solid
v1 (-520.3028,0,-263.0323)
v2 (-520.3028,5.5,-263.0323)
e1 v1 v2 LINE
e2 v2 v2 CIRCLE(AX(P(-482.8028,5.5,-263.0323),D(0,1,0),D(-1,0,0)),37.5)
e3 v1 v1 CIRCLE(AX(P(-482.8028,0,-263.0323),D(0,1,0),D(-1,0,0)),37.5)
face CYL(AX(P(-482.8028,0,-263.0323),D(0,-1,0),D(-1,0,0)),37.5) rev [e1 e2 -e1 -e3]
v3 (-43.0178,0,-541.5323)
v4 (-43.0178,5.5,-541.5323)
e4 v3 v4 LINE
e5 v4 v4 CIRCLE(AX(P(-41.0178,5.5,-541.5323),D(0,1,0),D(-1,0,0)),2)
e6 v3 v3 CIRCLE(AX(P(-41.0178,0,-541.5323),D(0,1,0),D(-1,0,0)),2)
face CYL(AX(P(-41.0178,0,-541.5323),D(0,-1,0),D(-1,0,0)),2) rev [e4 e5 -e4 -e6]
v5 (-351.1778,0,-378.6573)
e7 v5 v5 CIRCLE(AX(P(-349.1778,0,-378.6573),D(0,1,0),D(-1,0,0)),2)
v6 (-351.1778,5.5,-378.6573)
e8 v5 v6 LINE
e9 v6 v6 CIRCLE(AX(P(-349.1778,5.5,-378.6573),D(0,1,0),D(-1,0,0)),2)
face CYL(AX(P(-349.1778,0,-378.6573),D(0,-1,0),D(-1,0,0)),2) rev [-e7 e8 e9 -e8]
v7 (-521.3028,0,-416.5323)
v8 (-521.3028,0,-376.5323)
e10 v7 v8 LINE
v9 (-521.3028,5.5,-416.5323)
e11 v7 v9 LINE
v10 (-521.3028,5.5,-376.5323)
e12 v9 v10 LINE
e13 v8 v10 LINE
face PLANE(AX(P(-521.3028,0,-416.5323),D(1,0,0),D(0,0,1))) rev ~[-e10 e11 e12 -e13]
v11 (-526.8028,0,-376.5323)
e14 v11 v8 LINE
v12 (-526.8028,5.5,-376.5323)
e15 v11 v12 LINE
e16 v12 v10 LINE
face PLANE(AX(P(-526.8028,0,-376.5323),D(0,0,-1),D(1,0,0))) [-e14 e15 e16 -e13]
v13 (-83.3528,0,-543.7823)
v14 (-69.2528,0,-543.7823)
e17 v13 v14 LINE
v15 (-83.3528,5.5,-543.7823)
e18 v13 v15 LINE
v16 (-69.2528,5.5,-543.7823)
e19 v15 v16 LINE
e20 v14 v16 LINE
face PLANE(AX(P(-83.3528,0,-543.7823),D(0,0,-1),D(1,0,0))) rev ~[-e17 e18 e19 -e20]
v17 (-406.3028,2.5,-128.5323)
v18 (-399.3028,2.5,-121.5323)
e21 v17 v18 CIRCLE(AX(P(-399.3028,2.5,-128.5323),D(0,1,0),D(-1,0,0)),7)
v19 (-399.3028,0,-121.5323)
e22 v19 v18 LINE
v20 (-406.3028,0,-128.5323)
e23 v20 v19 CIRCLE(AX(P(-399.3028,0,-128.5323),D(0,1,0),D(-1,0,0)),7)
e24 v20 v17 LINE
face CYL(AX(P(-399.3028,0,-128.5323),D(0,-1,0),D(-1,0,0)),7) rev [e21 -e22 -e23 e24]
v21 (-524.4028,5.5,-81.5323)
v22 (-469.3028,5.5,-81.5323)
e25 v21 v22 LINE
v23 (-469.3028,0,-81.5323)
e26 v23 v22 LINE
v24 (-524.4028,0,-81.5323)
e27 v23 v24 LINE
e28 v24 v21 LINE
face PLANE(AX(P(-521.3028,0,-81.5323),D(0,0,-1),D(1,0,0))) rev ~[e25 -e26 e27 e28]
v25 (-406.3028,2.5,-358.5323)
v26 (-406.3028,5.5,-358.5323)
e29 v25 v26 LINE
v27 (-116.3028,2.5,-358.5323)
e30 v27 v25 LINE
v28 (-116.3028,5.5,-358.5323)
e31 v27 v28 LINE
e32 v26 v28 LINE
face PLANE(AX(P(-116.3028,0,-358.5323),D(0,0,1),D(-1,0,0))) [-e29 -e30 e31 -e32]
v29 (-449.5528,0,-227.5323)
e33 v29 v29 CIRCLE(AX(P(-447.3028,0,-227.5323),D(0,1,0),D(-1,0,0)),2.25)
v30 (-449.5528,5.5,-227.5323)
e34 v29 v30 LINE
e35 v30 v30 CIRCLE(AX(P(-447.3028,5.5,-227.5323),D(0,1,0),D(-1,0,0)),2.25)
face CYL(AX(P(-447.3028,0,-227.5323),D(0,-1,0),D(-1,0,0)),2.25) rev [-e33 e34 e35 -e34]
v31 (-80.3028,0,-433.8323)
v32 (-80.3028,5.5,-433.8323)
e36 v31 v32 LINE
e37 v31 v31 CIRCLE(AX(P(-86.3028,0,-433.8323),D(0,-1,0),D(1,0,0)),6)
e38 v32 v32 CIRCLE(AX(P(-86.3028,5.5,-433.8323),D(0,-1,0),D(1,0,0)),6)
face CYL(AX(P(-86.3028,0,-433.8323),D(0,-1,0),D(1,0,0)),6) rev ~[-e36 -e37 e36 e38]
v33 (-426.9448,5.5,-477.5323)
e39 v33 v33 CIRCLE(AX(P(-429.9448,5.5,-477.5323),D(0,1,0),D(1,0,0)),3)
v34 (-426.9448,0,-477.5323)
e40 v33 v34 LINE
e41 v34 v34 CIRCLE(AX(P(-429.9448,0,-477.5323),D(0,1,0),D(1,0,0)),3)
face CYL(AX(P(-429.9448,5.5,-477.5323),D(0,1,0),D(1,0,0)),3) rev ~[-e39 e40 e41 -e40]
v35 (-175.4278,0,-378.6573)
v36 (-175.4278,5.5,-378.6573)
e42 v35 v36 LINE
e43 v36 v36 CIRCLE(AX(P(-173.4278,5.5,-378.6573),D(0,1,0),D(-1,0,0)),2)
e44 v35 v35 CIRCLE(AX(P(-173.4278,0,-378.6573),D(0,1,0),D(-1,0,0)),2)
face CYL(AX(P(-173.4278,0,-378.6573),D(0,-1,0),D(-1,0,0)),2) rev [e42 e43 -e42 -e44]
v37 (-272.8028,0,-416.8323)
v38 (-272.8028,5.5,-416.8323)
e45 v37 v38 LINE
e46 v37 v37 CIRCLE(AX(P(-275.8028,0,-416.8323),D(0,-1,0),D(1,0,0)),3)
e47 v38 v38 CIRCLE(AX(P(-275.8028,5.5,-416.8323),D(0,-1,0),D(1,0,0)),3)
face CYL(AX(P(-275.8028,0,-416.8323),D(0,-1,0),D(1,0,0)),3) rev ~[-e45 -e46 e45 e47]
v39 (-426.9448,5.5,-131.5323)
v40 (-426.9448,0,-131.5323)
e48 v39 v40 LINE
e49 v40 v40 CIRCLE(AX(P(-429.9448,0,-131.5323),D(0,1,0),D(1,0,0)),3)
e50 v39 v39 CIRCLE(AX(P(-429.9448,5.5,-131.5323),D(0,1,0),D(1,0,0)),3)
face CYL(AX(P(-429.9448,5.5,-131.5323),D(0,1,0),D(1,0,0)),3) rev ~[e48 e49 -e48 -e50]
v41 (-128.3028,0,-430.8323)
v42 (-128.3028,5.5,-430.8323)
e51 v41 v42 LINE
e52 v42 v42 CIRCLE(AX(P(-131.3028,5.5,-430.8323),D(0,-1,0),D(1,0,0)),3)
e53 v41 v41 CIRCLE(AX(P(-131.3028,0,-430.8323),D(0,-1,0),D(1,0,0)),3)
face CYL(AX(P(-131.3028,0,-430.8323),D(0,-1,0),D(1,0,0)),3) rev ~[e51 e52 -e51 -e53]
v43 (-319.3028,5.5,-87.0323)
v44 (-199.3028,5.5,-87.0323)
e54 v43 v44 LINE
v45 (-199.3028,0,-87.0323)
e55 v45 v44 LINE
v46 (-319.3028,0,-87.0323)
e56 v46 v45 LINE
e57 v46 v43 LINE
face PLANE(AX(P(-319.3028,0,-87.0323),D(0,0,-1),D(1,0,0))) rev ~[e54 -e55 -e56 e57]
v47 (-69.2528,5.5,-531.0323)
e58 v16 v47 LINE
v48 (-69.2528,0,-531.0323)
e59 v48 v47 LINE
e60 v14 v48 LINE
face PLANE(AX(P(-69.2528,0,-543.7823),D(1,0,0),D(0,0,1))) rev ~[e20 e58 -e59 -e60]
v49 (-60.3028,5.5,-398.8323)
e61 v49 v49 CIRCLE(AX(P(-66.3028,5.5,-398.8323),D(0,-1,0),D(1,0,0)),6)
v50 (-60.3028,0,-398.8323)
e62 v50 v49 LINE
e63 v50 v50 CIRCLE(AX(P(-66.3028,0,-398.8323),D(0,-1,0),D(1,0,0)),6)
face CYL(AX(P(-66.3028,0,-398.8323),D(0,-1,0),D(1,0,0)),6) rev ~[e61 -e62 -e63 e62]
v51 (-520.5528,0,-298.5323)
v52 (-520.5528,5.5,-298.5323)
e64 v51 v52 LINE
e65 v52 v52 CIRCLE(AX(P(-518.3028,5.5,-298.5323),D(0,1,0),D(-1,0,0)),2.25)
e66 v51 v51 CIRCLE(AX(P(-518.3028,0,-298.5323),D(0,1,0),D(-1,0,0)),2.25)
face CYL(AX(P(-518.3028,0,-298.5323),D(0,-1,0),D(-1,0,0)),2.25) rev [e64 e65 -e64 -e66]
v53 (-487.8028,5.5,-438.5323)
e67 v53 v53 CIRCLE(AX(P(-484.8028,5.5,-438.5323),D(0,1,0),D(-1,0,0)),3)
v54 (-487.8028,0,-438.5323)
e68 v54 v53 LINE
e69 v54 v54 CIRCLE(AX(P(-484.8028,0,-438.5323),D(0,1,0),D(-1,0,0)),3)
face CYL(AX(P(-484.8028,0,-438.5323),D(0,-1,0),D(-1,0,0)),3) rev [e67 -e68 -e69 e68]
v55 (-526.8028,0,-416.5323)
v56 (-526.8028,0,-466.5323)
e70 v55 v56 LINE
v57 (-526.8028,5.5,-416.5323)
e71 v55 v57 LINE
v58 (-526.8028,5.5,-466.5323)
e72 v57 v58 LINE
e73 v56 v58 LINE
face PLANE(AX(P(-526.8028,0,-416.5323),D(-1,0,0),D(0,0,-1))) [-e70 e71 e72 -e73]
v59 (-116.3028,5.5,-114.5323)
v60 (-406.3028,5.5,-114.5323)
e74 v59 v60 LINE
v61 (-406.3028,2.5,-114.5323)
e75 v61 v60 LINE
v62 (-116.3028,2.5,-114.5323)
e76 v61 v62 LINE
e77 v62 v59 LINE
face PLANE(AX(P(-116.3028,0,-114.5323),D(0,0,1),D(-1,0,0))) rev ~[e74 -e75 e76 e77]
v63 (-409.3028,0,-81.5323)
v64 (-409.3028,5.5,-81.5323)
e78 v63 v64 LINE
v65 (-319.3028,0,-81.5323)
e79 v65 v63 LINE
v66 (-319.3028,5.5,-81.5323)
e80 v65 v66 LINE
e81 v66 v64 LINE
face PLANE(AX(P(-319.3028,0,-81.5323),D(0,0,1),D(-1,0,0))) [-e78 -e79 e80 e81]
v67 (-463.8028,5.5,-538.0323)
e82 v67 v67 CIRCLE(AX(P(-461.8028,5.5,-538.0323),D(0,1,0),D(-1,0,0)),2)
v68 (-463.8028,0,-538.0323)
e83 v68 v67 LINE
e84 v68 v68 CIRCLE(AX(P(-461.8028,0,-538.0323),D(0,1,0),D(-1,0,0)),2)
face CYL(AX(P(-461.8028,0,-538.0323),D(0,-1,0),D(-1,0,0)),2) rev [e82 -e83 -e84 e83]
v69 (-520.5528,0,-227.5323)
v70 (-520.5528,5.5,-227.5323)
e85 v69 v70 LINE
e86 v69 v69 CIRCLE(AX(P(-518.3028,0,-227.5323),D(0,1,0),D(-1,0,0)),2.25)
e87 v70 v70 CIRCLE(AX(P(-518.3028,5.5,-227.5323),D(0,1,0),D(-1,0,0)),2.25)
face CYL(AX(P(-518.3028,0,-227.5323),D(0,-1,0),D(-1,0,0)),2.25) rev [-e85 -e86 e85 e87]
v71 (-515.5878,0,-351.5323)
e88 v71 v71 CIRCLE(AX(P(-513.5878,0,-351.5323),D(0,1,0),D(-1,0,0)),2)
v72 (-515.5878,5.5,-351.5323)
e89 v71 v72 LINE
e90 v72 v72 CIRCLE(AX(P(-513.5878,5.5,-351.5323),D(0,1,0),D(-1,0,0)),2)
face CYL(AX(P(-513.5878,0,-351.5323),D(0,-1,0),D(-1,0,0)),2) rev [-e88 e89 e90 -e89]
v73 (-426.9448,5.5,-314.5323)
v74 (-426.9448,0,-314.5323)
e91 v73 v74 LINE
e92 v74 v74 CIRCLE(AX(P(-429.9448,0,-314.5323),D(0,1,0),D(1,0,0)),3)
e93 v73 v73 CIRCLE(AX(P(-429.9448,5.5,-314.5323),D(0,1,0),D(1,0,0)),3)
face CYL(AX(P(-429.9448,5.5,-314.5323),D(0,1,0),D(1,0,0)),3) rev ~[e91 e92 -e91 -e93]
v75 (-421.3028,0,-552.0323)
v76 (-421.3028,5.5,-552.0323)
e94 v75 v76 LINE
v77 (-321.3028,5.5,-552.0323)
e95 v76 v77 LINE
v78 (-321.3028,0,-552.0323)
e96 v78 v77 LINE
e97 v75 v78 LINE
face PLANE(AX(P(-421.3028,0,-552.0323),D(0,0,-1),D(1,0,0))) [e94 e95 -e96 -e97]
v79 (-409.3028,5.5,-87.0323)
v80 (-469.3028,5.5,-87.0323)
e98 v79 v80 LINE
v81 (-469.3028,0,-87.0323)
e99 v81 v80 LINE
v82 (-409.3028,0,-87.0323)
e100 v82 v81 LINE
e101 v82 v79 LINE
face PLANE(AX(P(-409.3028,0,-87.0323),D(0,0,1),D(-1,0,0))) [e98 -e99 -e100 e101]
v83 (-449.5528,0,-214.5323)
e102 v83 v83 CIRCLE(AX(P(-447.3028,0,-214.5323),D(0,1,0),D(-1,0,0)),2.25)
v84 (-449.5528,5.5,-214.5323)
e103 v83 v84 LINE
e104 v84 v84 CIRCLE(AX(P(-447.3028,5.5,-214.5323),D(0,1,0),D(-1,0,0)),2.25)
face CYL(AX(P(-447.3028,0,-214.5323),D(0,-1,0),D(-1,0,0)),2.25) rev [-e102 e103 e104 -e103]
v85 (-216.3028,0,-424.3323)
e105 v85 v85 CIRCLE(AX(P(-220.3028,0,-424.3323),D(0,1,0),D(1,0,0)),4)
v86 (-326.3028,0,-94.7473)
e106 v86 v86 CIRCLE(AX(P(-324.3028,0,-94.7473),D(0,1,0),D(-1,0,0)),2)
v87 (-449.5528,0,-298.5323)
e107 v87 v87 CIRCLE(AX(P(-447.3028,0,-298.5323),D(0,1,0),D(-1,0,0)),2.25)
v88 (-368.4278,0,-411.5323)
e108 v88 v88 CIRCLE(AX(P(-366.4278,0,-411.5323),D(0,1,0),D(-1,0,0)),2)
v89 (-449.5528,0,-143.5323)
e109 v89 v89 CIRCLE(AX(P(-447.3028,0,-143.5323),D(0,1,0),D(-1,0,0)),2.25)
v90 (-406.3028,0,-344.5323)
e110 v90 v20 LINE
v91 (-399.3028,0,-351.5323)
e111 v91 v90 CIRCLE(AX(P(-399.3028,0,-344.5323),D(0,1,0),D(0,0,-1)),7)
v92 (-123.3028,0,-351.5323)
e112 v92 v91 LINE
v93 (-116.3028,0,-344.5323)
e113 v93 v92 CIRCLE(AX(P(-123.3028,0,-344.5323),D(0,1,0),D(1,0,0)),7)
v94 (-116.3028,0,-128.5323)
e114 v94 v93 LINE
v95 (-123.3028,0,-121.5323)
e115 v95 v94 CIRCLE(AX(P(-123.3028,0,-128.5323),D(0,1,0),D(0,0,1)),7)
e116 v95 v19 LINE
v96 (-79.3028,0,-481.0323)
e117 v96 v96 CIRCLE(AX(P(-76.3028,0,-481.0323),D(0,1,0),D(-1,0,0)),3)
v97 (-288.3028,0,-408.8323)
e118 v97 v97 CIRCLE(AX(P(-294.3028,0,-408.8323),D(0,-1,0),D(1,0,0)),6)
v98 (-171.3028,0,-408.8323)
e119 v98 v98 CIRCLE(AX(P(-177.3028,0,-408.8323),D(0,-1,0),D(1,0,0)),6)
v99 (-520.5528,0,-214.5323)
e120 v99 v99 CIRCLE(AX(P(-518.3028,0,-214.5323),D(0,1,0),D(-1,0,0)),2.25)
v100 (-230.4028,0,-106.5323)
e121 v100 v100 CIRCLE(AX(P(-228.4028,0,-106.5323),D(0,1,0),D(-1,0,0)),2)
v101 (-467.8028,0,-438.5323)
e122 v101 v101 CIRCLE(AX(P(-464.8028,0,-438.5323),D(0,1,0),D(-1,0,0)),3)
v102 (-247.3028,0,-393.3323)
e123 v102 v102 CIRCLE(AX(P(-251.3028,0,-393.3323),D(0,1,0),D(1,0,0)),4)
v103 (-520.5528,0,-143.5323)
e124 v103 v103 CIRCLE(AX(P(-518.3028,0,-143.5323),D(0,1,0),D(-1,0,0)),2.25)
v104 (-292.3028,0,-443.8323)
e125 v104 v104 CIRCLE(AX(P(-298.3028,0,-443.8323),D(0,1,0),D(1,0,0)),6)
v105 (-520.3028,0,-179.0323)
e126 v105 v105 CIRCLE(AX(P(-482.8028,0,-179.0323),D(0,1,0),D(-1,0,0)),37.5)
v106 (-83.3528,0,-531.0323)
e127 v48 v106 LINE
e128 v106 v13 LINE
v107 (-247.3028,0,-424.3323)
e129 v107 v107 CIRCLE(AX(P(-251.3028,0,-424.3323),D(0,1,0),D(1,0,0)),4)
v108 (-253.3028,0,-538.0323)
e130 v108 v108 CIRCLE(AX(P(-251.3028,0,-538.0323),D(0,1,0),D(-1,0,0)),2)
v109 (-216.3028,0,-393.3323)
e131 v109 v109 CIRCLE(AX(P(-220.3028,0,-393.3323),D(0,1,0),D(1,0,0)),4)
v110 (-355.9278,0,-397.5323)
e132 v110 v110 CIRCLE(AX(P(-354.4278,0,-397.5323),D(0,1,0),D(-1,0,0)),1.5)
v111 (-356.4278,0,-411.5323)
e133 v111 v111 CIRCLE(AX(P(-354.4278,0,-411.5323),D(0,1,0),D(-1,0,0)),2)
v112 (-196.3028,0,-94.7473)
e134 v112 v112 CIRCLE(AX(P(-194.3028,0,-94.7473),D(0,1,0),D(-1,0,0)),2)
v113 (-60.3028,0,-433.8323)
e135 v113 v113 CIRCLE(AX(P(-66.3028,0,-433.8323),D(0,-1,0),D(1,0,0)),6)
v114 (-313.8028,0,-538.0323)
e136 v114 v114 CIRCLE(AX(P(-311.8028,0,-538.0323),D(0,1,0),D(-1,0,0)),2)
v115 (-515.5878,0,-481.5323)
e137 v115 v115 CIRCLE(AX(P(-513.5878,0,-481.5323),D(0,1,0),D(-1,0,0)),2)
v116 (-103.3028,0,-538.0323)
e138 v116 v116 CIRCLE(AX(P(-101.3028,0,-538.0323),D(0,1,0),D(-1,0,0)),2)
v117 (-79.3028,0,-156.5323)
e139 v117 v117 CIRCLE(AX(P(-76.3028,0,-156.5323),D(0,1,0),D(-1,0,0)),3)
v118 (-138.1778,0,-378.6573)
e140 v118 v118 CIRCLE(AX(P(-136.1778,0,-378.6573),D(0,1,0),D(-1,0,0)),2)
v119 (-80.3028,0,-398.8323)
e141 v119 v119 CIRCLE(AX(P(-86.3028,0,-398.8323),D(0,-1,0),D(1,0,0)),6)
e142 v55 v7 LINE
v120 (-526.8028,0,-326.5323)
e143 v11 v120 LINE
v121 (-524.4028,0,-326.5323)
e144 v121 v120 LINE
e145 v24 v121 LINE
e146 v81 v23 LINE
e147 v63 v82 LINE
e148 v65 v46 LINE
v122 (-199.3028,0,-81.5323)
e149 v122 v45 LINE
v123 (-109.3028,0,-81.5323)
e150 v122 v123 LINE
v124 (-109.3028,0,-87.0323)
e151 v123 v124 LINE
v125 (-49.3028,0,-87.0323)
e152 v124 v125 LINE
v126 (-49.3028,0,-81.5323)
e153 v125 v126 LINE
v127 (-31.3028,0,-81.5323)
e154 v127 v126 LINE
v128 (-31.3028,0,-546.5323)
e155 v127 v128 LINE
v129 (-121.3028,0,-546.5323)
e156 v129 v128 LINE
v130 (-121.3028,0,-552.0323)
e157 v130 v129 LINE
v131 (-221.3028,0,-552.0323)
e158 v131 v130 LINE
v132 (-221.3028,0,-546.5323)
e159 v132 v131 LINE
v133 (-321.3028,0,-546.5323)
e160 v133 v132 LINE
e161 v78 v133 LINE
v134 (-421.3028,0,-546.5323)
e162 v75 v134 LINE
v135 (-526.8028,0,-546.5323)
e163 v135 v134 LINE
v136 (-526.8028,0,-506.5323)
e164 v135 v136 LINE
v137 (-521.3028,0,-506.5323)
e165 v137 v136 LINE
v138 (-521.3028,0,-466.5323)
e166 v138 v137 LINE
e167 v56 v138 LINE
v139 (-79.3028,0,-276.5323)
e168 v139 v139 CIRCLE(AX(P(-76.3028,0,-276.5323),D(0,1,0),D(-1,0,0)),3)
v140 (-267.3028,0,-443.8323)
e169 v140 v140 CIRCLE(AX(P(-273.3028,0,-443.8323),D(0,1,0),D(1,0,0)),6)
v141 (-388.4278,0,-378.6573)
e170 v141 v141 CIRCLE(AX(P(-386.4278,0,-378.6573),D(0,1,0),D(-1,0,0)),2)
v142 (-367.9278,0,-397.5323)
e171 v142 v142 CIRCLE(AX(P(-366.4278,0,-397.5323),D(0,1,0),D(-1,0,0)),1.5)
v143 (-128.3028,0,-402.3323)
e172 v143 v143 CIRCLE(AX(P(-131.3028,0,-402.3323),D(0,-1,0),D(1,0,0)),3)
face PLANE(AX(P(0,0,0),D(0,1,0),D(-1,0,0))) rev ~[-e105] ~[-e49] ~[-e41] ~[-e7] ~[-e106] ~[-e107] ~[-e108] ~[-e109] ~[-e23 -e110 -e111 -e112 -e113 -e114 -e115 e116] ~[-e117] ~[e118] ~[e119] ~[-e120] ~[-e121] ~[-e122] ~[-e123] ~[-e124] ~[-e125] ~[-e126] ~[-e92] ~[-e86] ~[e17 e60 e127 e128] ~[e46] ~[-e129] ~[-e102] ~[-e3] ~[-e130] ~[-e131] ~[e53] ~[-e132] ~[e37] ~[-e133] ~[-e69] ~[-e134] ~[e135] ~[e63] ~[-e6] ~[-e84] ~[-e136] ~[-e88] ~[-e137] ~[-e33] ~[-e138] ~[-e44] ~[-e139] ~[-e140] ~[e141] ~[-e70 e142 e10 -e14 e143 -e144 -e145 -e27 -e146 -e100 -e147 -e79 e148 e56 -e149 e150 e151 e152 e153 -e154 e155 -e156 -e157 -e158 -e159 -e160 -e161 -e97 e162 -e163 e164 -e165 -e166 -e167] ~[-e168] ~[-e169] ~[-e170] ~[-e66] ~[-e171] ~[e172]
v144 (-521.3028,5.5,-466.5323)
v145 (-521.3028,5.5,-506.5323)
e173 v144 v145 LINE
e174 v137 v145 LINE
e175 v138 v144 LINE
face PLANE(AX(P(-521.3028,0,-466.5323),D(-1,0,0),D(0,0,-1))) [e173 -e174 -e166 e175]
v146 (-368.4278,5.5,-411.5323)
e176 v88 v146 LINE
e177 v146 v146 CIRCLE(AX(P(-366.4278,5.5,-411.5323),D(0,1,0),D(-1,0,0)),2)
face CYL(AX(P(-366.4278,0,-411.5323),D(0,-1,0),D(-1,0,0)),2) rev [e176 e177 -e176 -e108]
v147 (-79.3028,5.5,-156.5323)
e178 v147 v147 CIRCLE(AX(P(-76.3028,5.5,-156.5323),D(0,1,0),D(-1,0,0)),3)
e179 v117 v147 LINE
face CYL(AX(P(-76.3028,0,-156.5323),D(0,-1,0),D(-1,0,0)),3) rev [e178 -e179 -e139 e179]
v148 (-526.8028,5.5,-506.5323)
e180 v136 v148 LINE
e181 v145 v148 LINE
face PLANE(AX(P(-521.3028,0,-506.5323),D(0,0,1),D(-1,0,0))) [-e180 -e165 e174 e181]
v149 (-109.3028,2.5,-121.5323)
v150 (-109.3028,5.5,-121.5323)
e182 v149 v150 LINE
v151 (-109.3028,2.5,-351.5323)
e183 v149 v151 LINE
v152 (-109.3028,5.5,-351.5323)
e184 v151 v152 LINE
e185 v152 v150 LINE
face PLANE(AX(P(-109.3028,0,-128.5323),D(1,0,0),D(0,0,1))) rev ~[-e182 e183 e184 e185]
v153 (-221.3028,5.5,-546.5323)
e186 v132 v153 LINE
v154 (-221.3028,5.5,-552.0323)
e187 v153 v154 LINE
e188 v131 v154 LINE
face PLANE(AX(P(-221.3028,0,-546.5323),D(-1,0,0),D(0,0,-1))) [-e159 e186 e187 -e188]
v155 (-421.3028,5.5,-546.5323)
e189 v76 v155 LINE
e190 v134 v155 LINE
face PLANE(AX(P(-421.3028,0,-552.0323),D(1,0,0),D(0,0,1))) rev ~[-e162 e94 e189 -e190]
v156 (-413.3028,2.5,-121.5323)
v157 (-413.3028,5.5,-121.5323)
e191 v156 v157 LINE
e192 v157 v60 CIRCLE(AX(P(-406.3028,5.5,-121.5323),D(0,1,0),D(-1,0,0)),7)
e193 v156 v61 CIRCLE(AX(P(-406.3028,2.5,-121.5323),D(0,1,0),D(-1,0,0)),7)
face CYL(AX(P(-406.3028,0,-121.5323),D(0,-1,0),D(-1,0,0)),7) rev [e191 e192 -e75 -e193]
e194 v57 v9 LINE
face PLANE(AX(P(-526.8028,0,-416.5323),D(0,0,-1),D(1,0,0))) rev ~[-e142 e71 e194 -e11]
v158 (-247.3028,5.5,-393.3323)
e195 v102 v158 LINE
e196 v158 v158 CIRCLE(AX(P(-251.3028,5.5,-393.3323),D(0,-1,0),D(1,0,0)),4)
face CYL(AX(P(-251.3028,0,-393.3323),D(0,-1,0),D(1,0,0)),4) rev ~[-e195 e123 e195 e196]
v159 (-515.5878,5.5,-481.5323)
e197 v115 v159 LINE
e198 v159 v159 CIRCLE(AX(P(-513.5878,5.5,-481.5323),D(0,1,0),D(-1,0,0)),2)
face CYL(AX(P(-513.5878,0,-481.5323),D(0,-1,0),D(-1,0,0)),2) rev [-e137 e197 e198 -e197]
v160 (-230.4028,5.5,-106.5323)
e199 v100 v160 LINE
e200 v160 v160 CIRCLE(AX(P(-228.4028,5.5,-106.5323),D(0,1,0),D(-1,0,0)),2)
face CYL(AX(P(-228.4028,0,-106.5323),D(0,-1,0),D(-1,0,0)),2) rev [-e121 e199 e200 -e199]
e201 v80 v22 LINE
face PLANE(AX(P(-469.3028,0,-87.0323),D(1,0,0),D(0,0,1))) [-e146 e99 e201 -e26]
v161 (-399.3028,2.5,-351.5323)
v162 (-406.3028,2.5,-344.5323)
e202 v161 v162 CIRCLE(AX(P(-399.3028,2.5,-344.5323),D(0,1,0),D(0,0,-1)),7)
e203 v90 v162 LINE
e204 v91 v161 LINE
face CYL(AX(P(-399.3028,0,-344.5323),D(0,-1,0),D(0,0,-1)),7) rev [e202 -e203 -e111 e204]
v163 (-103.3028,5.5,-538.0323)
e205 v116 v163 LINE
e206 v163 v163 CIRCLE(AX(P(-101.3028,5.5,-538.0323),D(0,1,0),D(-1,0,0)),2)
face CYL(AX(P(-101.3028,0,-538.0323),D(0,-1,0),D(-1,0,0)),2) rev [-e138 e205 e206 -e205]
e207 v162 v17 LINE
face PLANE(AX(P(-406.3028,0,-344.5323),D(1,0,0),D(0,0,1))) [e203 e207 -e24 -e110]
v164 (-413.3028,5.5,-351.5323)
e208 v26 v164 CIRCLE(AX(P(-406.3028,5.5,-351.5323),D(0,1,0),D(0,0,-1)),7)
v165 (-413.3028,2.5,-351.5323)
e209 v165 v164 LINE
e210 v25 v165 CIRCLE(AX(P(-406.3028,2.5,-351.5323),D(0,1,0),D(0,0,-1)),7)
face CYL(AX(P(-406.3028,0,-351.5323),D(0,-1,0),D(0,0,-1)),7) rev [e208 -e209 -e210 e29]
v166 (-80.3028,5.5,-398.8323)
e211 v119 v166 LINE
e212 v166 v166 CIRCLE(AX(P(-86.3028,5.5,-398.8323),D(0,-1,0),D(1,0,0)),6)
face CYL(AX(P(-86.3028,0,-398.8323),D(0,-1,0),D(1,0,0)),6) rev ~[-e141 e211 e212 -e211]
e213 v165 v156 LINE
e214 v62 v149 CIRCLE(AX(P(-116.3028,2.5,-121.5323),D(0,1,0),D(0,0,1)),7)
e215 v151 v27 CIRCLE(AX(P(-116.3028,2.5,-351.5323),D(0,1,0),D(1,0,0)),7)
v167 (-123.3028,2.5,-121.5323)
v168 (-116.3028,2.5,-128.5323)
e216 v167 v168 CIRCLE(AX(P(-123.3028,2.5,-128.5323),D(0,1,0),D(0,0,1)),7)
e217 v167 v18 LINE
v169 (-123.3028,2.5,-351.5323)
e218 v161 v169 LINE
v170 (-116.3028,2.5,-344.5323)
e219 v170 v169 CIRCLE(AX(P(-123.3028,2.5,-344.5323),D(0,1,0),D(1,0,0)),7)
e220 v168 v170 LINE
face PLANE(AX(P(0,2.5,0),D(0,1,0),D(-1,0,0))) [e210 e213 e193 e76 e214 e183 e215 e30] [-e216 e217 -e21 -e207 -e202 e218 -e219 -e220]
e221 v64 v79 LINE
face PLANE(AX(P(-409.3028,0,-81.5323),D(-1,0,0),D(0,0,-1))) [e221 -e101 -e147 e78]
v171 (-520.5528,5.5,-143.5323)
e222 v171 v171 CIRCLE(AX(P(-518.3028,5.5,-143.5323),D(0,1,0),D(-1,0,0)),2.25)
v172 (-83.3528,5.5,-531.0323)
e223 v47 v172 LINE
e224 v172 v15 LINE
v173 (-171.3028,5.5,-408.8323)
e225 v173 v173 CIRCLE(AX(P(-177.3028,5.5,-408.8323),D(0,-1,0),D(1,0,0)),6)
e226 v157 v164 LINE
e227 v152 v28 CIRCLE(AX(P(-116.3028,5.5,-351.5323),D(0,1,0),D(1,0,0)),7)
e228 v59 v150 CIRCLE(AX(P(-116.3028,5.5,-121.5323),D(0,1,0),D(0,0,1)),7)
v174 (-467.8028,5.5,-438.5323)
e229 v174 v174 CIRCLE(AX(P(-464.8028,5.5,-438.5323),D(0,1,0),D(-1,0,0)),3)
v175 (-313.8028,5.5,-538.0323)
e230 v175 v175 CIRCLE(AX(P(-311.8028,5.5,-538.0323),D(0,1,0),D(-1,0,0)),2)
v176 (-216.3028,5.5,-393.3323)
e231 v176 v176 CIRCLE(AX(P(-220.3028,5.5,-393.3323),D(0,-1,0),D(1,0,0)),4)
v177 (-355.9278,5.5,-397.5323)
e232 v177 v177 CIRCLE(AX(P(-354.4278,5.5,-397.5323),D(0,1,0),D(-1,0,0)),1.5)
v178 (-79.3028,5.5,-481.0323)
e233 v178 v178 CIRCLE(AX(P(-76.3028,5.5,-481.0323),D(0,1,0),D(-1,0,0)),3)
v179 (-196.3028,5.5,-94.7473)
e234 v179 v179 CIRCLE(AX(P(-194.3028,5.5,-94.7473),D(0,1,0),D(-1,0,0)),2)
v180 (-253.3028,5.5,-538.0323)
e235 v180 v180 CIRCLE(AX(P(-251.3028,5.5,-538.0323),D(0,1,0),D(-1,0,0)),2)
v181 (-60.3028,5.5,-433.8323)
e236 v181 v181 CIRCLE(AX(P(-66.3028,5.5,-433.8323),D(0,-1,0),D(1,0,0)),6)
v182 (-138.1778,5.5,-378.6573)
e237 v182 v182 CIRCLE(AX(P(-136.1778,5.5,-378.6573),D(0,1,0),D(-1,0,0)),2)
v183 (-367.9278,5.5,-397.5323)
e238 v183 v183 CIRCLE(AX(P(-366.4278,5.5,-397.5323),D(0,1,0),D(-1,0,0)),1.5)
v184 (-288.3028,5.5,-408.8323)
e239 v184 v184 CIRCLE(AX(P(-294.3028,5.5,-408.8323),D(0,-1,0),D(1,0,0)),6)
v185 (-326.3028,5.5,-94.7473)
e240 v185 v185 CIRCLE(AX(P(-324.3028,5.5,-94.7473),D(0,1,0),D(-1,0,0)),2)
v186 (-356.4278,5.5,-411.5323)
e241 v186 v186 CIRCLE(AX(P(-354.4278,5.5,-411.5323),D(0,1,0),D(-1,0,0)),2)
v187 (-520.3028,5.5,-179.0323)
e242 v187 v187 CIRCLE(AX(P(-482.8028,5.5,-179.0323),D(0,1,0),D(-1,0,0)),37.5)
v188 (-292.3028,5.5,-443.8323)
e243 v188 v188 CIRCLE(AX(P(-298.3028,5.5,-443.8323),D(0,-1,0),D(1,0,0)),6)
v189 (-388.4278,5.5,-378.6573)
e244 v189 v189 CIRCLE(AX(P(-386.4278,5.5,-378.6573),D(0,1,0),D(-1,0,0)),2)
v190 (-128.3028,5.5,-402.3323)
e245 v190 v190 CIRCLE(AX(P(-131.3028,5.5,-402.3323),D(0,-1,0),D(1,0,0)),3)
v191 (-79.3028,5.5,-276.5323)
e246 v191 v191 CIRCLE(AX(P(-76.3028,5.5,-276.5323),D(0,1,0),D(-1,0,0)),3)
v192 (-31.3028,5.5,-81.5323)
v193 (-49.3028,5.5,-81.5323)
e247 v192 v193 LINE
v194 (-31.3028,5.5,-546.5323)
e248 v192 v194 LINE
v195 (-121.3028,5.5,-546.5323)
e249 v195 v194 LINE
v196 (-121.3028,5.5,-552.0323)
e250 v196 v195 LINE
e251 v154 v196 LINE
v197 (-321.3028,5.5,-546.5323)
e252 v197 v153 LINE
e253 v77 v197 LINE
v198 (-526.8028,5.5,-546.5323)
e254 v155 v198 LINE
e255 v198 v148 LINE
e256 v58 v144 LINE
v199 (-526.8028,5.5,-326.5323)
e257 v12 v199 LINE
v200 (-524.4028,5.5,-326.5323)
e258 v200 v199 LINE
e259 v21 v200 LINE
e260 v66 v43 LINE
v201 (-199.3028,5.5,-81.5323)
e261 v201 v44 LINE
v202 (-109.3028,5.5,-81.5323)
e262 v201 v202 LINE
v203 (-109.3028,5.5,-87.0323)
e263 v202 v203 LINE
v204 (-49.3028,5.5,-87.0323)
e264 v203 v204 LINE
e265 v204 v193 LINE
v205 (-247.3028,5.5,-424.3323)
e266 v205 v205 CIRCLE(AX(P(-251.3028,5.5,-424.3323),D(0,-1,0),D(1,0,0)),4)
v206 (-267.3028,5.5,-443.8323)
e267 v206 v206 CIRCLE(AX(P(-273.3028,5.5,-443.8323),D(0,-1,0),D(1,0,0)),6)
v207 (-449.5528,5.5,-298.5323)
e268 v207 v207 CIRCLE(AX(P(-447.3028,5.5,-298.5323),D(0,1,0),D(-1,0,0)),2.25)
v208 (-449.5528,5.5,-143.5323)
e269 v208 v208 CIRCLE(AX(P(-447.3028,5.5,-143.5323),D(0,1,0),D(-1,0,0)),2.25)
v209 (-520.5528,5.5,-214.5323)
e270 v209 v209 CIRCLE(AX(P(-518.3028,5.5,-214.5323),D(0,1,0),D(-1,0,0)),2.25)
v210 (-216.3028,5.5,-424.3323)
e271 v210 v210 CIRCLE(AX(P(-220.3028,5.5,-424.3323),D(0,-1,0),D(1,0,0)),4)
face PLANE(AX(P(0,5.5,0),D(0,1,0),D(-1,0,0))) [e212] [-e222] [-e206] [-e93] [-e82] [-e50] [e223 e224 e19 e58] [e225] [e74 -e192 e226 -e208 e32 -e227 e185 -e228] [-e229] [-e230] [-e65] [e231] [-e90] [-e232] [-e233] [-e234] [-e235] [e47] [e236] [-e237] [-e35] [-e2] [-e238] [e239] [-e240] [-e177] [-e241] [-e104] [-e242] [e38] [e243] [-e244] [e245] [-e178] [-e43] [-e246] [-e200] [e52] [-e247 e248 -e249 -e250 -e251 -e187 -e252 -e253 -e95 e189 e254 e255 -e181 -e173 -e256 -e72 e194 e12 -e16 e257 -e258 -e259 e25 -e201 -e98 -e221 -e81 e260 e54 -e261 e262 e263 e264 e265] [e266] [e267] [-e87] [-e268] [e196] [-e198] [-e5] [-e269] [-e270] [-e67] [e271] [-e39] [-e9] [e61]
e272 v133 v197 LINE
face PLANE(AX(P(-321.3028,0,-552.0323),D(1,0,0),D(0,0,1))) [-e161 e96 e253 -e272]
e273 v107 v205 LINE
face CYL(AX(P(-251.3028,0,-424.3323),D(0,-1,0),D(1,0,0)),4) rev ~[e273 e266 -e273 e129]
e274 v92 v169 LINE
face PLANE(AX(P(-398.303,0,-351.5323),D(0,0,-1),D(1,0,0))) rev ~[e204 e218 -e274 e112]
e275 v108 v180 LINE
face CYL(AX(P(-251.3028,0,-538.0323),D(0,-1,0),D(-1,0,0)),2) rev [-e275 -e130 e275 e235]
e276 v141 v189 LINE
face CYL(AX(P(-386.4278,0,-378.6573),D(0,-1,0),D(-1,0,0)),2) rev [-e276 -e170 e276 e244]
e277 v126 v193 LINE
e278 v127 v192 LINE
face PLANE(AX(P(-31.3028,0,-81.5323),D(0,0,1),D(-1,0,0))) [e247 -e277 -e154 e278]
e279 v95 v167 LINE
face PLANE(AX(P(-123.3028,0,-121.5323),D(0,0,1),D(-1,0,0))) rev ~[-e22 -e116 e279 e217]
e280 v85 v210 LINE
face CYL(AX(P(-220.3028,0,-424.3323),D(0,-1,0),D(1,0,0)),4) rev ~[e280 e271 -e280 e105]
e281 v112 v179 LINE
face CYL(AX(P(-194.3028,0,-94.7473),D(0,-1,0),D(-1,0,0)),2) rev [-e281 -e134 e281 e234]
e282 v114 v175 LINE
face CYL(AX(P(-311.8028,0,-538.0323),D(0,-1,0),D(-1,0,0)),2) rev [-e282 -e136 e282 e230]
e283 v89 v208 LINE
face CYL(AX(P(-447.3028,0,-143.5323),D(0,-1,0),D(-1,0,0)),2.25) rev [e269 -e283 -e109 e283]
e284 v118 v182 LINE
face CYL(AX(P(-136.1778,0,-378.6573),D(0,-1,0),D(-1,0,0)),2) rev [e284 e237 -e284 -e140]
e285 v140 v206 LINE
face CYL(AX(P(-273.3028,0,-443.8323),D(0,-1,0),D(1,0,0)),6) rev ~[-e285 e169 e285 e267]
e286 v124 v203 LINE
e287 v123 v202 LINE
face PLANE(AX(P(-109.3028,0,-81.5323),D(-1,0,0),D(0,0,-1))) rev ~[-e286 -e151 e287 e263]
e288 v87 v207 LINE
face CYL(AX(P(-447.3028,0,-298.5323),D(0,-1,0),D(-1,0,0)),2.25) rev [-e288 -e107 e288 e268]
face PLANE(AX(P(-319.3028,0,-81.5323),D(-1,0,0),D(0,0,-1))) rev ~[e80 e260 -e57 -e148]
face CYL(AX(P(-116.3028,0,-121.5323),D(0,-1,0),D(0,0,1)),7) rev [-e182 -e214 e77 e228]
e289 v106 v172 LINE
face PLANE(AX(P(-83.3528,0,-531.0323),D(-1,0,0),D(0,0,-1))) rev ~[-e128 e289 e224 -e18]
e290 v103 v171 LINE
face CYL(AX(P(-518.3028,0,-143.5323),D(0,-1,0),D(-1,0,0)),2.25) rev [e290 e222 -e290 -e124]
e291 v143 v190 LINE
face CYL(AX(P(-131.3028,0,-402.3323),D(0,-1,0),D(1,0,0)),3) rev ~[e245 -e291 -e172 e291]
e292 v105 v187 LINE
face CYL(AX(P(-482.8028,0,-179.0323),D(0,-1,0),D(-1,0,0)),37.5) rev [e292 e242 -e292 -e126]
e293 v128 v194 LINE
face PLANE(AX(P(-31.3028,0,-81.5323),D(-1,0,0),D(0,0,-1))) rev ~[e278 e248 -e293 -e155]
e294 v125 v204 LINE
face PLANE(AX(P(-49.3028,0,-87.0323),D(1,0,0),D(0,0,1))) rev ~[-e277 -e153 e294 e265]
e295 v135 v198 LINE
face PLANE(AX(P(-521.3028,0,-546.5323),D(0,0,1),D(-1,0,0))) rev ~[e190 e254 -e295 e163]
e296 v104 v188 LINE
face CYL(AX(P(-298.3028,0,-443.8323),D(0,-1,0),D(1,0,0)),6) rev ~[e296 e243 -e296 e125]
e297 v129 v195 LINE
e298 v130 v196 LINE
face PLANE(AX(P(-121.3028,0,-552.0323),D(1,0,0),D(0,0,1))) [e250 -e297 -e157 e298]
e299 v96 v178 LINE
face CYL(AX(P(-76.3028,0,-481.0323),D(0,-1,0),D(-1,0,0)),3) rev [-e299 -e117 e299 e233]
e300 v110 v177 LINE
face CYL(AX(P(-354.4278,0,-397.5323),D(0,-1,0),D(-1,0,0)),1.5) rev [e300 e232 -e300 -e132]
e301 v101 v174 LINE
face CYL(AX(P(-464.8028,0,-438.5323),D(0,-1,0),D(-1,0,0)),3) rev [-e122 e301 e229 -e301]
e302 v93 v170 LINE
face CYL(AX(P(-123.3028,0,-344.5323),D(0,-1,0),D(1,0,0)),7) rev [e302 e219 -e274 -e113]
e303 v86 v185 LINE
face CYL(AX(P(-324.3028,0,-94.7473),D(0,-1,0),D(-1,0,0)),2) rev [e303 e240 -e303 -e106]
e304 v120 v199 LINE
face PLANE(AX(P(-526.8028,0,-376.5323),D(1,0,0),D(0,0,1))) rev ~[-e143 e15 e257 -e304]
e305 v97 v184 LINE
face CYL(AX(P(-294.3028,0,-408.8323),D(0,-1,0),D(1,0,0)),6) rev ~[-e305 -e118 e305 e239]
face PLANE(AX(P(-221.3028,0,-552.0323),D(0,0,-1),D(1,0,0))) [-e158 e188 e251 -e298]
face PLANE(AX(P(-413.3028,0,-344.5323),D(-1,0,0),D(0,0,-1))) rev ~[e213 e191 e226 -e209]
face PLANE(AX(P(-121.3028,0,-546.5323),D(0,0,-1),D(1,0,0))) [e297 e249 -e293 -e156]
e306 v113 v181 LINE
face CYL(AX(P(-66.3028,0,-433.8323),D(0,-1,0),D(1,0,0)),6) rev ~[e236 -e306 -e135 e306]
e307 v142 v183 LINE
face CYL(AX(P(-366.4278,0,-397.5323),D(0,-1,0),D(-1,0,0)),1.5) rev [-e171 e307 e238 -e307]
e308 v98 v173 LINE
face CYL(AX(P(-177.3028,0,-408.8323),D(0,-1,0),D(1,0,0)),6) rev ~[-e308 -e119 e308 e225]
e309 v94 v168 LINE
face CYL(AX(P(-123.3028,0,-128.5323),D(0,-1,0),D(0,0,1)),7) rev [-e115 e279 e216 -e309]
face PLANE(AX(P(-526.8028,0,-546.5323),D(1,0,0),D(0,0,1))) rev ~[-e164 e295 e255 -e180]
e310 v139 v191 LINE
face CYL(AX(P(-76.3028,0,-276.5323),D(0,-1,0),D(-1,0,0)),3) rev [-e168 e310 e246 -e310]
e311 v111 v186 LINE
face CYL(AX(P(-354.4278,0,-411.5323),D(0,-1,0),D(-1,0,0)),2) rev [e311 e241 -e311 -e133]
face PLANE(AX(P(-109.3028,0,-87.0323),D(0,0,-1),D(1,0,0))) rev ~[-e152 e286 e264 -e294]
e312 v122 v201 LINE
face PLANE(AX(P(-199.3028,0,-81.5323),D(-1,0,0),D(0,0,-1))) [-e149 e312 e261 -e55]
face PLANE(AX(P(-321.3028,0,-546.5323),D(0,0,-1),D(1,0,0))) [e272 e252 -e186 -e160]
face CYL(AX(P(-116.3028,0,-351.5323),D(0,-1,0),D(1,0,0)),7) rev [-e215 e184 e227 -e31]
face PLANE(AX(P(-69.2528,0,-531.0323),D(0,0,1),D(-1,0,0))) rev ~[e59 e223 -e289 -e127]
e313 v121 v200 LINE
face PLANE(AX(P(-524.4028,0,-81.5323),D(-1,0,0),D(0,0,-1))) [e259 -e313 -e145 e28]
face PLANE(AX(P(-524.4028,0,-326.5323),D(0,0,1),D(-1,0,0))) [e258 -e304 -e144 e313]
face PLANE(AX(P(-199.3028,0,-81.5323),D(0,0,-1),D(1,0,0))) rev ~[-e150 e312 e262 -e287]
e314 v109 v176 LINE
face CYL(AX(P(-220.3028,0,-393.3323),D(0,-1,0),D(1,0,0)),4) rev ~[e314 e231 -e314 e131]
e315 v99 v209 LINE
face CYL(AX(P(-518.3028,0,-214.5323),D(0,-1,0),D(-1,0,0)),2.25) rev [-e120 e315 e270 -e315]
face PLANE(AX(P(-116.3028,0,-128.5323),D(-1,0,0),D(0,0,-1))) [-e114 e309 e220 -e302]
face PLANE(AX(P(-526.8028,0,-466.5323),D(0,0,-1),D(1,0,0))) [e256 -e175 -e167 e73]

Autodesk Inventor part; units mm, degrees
ref_plane "YZ Plane" through (0, 0, 0) normal (1, 0, 0) x (0, 1, 0)
ref_plane "XZ Plane" through (0, 0, 0) normal (0, 1, 0) x (-1, 0, 0)
ref_plane "XY Plane" through (0, 0, 0) normal (0, 0, 1) x (1, 0, 0)
sketch "Boceto1" plane through (0, 0, 0) normal (0, 1, 0) x (-1, 0, 0)
  line L0 (31.3028, -81.5323) -> (31.3028, -546.5323)
  line L1 (526.8028, -376.5323) -> (521.3028, -376.5323)
  line L2 (116.3028, -128.5323) -> (116.3028, -344.5323)
  line L3 (398.303, -351.5323) -> (123.3028, -351.5323)
  line L4 (123.3028, -121.5323) -> (399.3028, -121.5323)
  line L5 (526.8028, -376.5323) -> (526.8028, -326.5323)
  line L6 (521.3028, -416.5323) -> (521.3028, -376.5323)
  line L7 (406.3028, -344.5323) -> (406.3028, -128.5323)
  line L8 (399.3028, -351.5323) -> (123.3028, -351.5323)
  line L9 (123.3028, -121.5323) -> (399.3028, -121.5323)
  arc A0 (399.3028, -351.5323) -> (406.3028, -344.5323) centre (399.3028, -344.5323) ccw
  arc A1 (406.3028, -128.5323) -> (399.3028, -121.5323) centre (399.3028, -128.5323) ccw
  arc A2 (123.3028, -121.5323) -> (116.3028, -128.5323) centre (123.3028, -128.5323) ccw
  arc A3 (116.3028, -344.5323) -> (123.3028, -351.5323) centre (123.3028, -344.5323) ccw
  line L10 (123.3028, -114.5323) -> (399.3028, -114.5323)
  line L11 (413.3028, -128.5323) -> (413.3028, -344.5323)
  line L12 (399.3028, -358.5323) -> (123.3028, -358.5323)
  line L13 (109.3028, -344.5323) -> (109.3028, -128.5323)
  line L14 (109.3028, -128.5323) -> (109.3028, -121.5323)
  line L15 (116.3028, -114.5323) -> (123.3028, -114.5323)
  line L16 (109.3028, -344.5323) -> (109.3028, -351.5323)
  line L17 (116.3028, -358.5323) -> (123.3028, -358.5323)
  line L18 (413.3028, -344.5323) -> (413.3028, -351.5323)
  line L19 (406.3028, -358.5323) -> (399.3028, -358.5323)
  line L20 (413.3028, -128.5323) -> (413.3028, -121.5323)
  line L21 (399.3028, -114.5323) -> (406.3028, -114.5323)
  arc A4 (413.3028, -121.5323) -> (406.3028, -114.5323) centre (406.3028, -121.5323) ccw
  arc A5 (406.3028, -358.5323) -> (413.3028, -351.5323) centre (406.3028, -351.5323) ccw
  arc A6 (109.3028, -351.5323) -> (116.3028, -358.5323) centre (116.3028, -351.5323) ccw
  arc A7 (116.3028, -114.5323) -> (109.3028, -121.5323) centre (116.3028, -121.5323) ccw
  line L22 (421.3028, -552.0323) -> (421.3028, -546.5323)
  line L23 (421.3028, -546.5323) -> (521.3028, -546.5323)
  line L24 (421.3028, -552.0323) -> (321.3028, -552.0323)
  line L25 (321.3028, -552.0323) -> (321.3028, -546.5323)
  line L26 (321.3028, -546.5323) -> (221.3028, -546.5323)
  line L27 (221.3028, -546.5323) -> (221.3028, -552.0323)
  line L28 (319.3028, -81.5323) -> (319.3028, -87.0323)
  line L29 (199.3028, -81.5323) -> (199.3028, -87.0323)
  line L30 (319.3028, -87.0323) -> (199.3028, -87.0323)
  circle A8 centre (76.3028, -156.5323) radius 3
  circle A9 centre (76.3028, -276.5323) radius 3
  line L31 (31.3028, -81.5323) -> (49.3028, -81.5323)
  circle A10 centre (76.3028, -481.0323) radius 3
  line L32 (521.3028, -81.5323) -> (523.8028, -81.5323)
  line L33 (221.3028, -552.0323) -> (121.3028, -552.0323)
  line L34 (121.3028, -552.0323) -> (121.3028, -546.5323)
  line L35 (121.3028, -546.5323) -> (31.3028, -546.5323)
  line L36 (526.8028, -416.5323) -> (521.3028, -416.5323)
  line L37 (526.8028, -416.5323) -> (526.8028, -466.5323)
  line L38 (526.8028, -466.5323) -> (521.3028, -466.5323)
  line L39 (521.3028, -466.5323) -> (521.3028, -506.5323)
  line L40 (521.3028, -506.5323) -> (526.8028, -506.5323)
  line L41 (526.8028, -546.5323) -> (526.8028, -506.5323)
  circle A11 centre (41.0178, -541.5323) radius 2
  circle A12 centre (349.1778, -378.6573) radius 2
  circle A13 centre (386.4278, -378.6573) radius 2
  circle A14 centre (367.8028, -383.8623) radius 2
  line L42 (261.3028, -358.5323) -> (261.3028, -396.5323)
  circle A15 centre (173.4278, -378.6573) radius 2
  circle A16 centre (136.1778, -378.6573) radius 2
  line L43 (521.3028, -546.5323) -> (526.8028, -546.5323)
  circle A17 centre (194.3028, -94.7473) radius 2
  circle A18 centre (324.3028, -94.7473) radius 2
  circle A19 centre (461.8028, -538.0323) radius 2
  circle A20 centre (311.8028, -538.0323) radius 2
  circle A21 centre (101.3028, -538.0323) radius 2
  circle A22 centre (251.3028, -538.0323) radius 2
  circle A23 centre (513.5878, -481.5323) radius 2
  circle A24 centre (513.5878, -351.5323) radius 2
  line L44 (319.3028, -81.5323) -> (409.3028, -81.5323)
  line L45 (409.3028, -81.5323) -> (409.3028, -87.0323)
  line L46 (409.3028, -87.0323) -> (469.3028, -87.0323)
  line L47 (469.3028, -87.0323) -> (469.3028, -81.5323)
  line L48 (521.3028, -81.5323) -> (469.3028, -81.5323)
  line L49 (409.3028, -81.5323) -> (319.3028, -81.5323)
  line L50 (199.3028, -81.5323) -> (109.3028, -81.5323)
  line L51 (109.3028, -81.5323) -> (109.3028, -87.0323)
  line L52 (109.3028, -87.0323) -> (49.3028, -87.0323)
  line L53 (49.3028, -87.0323) -> (49.3028, -81.5323)
  line L54 (31.3028, -81.5323) -> (49.3028, -81.5323)
  line L55 (109.3028, -81.5323) -> (199.3028, -81.5323)
  circle A25 centre (354.4278, -397.5323) radius 1.5
  circle A26 centre (366.4278, -397.5323) radius 1.5
  line L56 (82.3528, -532.0323) -> (70.2528, -532.0323)
  line L57 (70.2528, -532.0323) -> (70.2528, -542.7823)
  line L58 (70.2528, -542.7823) -> (82.3528, -542.7823)
  line L59 (82.3528, -542.7823) -> (82.3528, -532.0323)
  line L60 (69.2528, -543.7823) -> (69.2528, -531.0323)
  line L61 (69.2528, -531.0323) -> (83.3528, -531.0323)
  line L62 (83.3528, -531.0323) -> (83.3528, -543.7823)
  line L63 (83.3528, -543.7823) -> (69.2528, -543.7823)
  circle A27 centre (518.3028, -143.5323) radius 2.25
  circle A28 centre (447.3028, -143.5323) radius 2.25
  circle A29 centre (447.3028, -298.5323) radius 2.25
  circle A30 centre (518.3028, -298.5323) radius 2.25
  circle A31 centre (518.3028, -214.5323) radius 2.25
  circle A32 centre (518.3028, -227.5323) radius 2.25
  circle A33 centre (447.3028, -214.5323) radius 2.25
  circle A34 centre (447.3028, -227.5323) radius 2.25
  circle A35 centre (482.8028, -179.0323) radius 37.5
  circle A36 centre (482.8028, -263.0323) radius 37.5
  line L64 (523.8028, -81.5323) -> (524.4028, -81.5323)
  line L65 (524.4028, -81.5323) -> (524.4028, -326.5323)
  line L66 (524.4028, -326.5323) -> (526.8028, -326.5323)
  circle A37 centre (484.8028, -438.5323) radius 3
  circle A38 centre (464.8028, -438.5323) radius 3
  circle A39 centre (366.4278, -411.5323) radius 2
  circle A40 centre (354.4278, -411.5323) radius 2
  circle A41 centre (228.4028, -106.5323) radius 2
  point P0 (0, 0)
  point P1 (398.3028, -355.6989)
  point P2 (109.3028, -358.5323)
  point P3 (413.3028, -358.5323)
  point P4 (413.3028, -114.5323)
  point P5 (398.303, -351.5323)
  dimension "d142" = 230
  dimension "d146" = 85
  dimension "d155" = 5.5
  dimension "d159" = 40
  dimension "d160" = 50
  dimension "d185" = 90
  dimension "d207" = 7
  dimension "d208" = 290
  dimension "d219" = 7
  dimension "d220" = 7
  dimension "d221" = 7
  dimension "d223" = 7
  dimension "d230" = 5.5
  dimension "d235" = 100
  dimension "d236" = 100
  dimension "d237" = 100
  dimension "d257" = 202
  dimension "d258" = 5.5
  dimension "d259" = 168
  dimension "d261" = 120
  dimension "d279" = 6
  dimension "d280" = 6
  dimension "d289" = 120
  dimension "d292" = 6
  dimension "d298" = 7
  dimension "d299" = 27.5
  dimension "d303" = 5.5
  dimension "d304" = 100
  dimension "d305" = 5.5
  dimension "d311" = 5.5
  dimension "d314" = 50
  dimension "d315" = 40
  dimension "d316" = 5.5
  dimension "d323" = 4
  dimension "d324" = 9.715
  dimension "d325" = 5
  dimension "d328" = 4
  dimension "d329" = 4
  dimension "d330" = 4
  dimension "d338" = 20.125
  dimension "d339" = 25.33
  dimension "d340" = 20.125
  dimension "d341" = 26.875
  dimension "d355" = 4
  dimension "d356" = 163
  dimension "d357" = 4
  dimension "d358" = 130
  dimension "d361" = 4
  dimension "d362" = 8.5
  dimension "d363" = 65
  dimension "d364" = 4
  dimension "d365" = 150
  dimension "d366" = 4
  dimension "d367" = 8.5
  dimension "d368" = 70
  dimension "d369" = 4
  dimension "d370" = 150
  dimension "d371" = 4
  dimension "d372" = 65
  dimension "d373" = 7.715
  dimension "d374" = 4
  dimension "d375" = 7.715
  dimension "d376" = 130
  dimension "d377" = 7.715
extrude "Extrusión1" add sketch "Boceto1" along normal blind 5.5 contours L31 L53 L52 L51 L50 L29 L30 L28 L44 L45 L46 L47 L48 L32 L64 L65 L66 L5 L1 L6 L36 L37 L38 L39 L40 L41 L43 L23 L22 L24 L25 L26 L27 L33 L34 L35 L0 | A14
extrude "Extrusión3" add sketch "Boceto1" along normal blind 2.5 contours L10 L21 A4 L20 L11 L18 A5 L19 L12 L17 A6 L16 L13 L14 A7 L15
sketch "Boceto2" plane through (0, 0, 0) normal (0, -1, 0) x (1, 0, 0)
  line L0 (-31.3028, -81.5323) -> (-31.3028, -546.5323) projected
  line L1 (-51.3028, -384.3323) -> (-51.3028, -448.8323)
  line L2 (-233.4894, -384.3323) -> (-51.3028, -384.3323)
  line L3 (-233.4894, -384.3323) -> (-310.8028, -384.3323)
  line L4 (-51.3028, -384.3323) -> (-51.3028, -448.8323)
  line L5 (-51.3028, -448.8323) -> (-310.8028, -448.8323)
  line L6 (-310.8028, -448.8323) -> (-310.8028, -384.3323)
  line L7 (-51.3028, -384.3323) -> (-51.3028, -409.3323)
  circle A0 centre (-177.3028, -408.8323) radius 6
  circle A1 centre (-294.3028, -408.8323) radius 6
  line L8 (-256.8028, -429.8323) -> (-256.8028, -387.8323)
  line L9 (-256.8028, -387.8323) -> (-214.8028, -387.8323)
  line L10 (-256.8028, -429.8323) -> (-214.8028, -429.8323)
  line L11 (-214.8028, -429.8323) -> (-214.8028, -387.8323)
  line L12 (-256.8028, -429.8323) -> (-256.8028, -424.3323)
  line L13 (-220.3028, -424.3323) -> (-220.3028, -393.3323)
  line L14 (-214.8028, -387.8323) -> (-214.8028, -393.3323)
  line L15 (-220.3028, -393.3323) -> (-251.3028, -393.3323)
  line L16 (-251.3028, -424.3323) -> (-251.3028, -393.3323)
  line L17 (-251.3028, -424.3323) -> (-220.3028, -424.3323)
  circle A2 centre (-251.3028, -424.3323) radius 4
  circle A3 centre (-251.3028, -393.3323) radius 4
  circle A4 centre (-220.3028, -424.3323) radius 4
  circle A5 centre (-220.3028, -393.3323) radius 4
  line L18 (-310.8028, -448.8323) -> (-310.8028, -443.8323)
  line L19 (-310.8028, -443.8323) -> (-298.3028, -443.8323)
  line L20 (-298.3028, -443.8323) -> (-273.3028, -443.8323)
  circle A6 centre (-298.3028, -443.8323) radius 6
  circle A7 centre (-273.3028, -443.8323) radius 6
  circle A8 centre (-66.3028, -433.8323) radius 6
  circle A9 centre (-86.3028, -433.8323) radius 6
  circle A10 centre (-86.3028, -398.8323) radius 6
  circle A11 centre (-66.3028, -398.8323) radius 6
  line L21 (-235.8028, -429.8323) -> (-235.8028, -387.8323)
  line L22 (-256.8028, -408.8323) -> (-214.8028, -408.8323)
  line L23 (-399.3028, -351.5323) -> (-123.3028, -351.5323) projected
  circle A12 centre (-131.3028, -430.8323) radius 3
  circle A13 centre (-131.3028, -402.3323) radius 3
  circle A14 centre (-275.8028, -416.8323) radius 3
  line L24 (-51.3028, -448.8323) -> (-310.8028, -448.8323)
  line L25 (-310.8028, -448.8323) -> (-310.8028, -384.3323)
  line L26 (-310.8028, -448.8323) -> (-310.8028, -443.8323)
  line L27 (-310.8028, -443.8323) -> (-298.3028, -443.8323)
  line L28 (-298.3028, -443.8323) -> (-273.3028, -443.8323)
  circle A15 centre (-298.3028, -443.8323) radius 6
  circle A16 centre (-273.3028, -443.8323) radius 6
  line L29 (-51.3028, -448.8323) -> (-310.8028, -448.8323)
  line L30 (-310.8028, -448.8323) -> (-310.8028, -384.3323)
  line L31 (-310.8028, -448.8323) -> (-310.8028, -443.8323)
  line L32 (-310.8028, -443.8323) -> (-298.3028, -443.8323)
  line L33 (-298.3028, -443.8323) -> (-273.3028, -443.8323)
  circle A17 centre (-298.3028, -443.8323) radius 6
  circle A18 centre (-273.3028, -443.8323) radius 6
  line L34 (-51.3028, -448.8323) -> (-310.8028, -448.8323)
  line L35 (-310.8028, -448.8323) -> (-310.8028, -384.3323)
  line L36 (-310.8028, -448.8323) -> (-310.8028, -443.8323)
  line L37 (-310.8028, -443.8323) -> (-298.3028, -443.8323)
  line L38 (-298.3028, -443.8323) -> (-273.3028, -443.8323)
  circle A19 centre (-298.3028, -443.8323) radius 6
  circle A20 centre (-273.3028, -443.8323) radius 6
  line L39 (-51.3028, -448.8323) -> (-310.8028, -448.8323)
  line L40 (-310.8028, -448.8323) -> (-310.8028, -384.3323)
  line L41 (-310.8028, -448.8323) -> (-310.8028, -443.8323)
  line L42 (-310.8028, -443.8323) -> (-298.3028, -443.8323)
  line L43 (-298.3028, -443.8323) -> (-273.3028, -443.8323)
  circle A21 centre (-298.3028, -443.8323) radius 6
  circle A22 centre (-273.3028, -443.8323) radius 6
  line L44 (-51.3028, -448.8323) -> (-310.8028, -448.8323)
  line L45 (-310.8028, -448.8323) -> (-310.8028, -384.3323)
  line L46 (-310.8028, -448.8323) -> (-310.8028, -443.8323)
  line L47 (-310.8028, -443.8323) -> (-298.3028, -443.8323)
  line L48 (-298.3028, -443.8323) -> (-273.3028, -443.8323)
  circle A23 centre (-298.3028, -443.8323) radius 6
  circle A24 centre (-273.3028, -443.8323) radius 6
  line L49 (-51.3028, -448.8323) -> (-310.8028, -448.8323)
  line L50 (-310.8028, -448.8323) -> (-310.8028, -384.3323)
  line L51 (-310.8028, -448.8323) -> (-310.8028, -443.8323)
  line L52 (-310.8028, -443.8323) -> (-298.3028, -443.8323)
  line L53 (-298.3028, -443.8323) -> (-273.3028, -443.8323)
  circle A25 centre (-298.3028, -443.8323) radius 6
  circle A26 centre (-273.3028, -443.8323) radius 6
  line L54 (-51.3028, -448.8323) -> (-310.8028, -448.8323)
  line L55 (-310.8028, -448.8323) -> (-310.8028, -384.3323)
  line L56 (-310.8028, -448.8323) -> (-310.8028, -443.8323)
  line L57 (-310.8028, -443.8323) -> (-298.3028, -443.8323)
  line L58 (-298.3028, -443.8323) -> (-273.3028, -443.8323)
  circle A27 centre (-298.3028, -443.8323) radius 6
  circle A28 centre (-273.3028, -443.8323) radius 6
  line L59 (-51.3028, -448.8323) -> (-310.8028, -448.8323)
  line L60 (-310.8028, -448.8323) -> (-310.8028, -384.3323)
  line L61 (-310.8028, -448.8323) -> (-310.8028, -443.8323)
  line L62 (-310.8028, -443.8323) -> (-298.3028, -443.8323)
  line L63 (-298.3028, -443.8323) -> (-273.3028, -443.8323)
  circle A29 centre (-298.3028, -443.8323) radius 6
  circle A30 centre (-273.3028, -443.8323) radius 6
  point P0 (0, 0)
  point P1 (-31.3028, -85.6989)
  point P2 (-521.3028, -627.1989)
  point P3 (-31.3028, -532.1989)
  dimension "d68" = 64.5
  dimension "d69" = 259.5
  dimension "d70" = 20
  dimension "d71" = 25
  dimension "d73" = 12
  dimension "d75" = 12
  dimension "d76" = 126
  dimension "d77" = 243
  dimension "d78" = 42
  dimension "d79" = 42
  dimension "d80" = 5.5
  dimension "d82" = 5.5
  dimension "d83" = 5.5
  dimension "d84" = 8
  dimension "d85" = 8
  dimension "d86" = 8
  dimension "d87" = 8
  dimension "d88" = 3.5
  dimension "d91" = 5
  dimension "d92" = 12.5
  dimension "d93" = 25
  dimension "d94" = 12
  dimension "d95" = 12
  dimension "d96" = 12
  dimension "d97" = 12
  dimension "d98" = 12
  dimension "d99" = 12
  dimension "d102" = 20
  dimension "d103" = 15
  dimension "d106" = 20
  dimension "d107" = 15
  dimension "d148" = 58.5
  dimension "d193" = 5.5
  dimension "d194" = 5.5
  dimension "d213" = 35
  dimension "d214" = 35
  dimension "d263" = 6
  dimension "d264" = 6
  dimension "d269" = 6
  dimension "d273" = 18
  dimension "d274" = 18
  dimension "d275" = 32
  dimension "d300" = 90
  dimension "d301" = 32.8
  dimension "d383" = 40
  dimension "d384" = 40
  dimension "d385" = 15
  dimension "d386" = 15
  dimension "d457" = 259.5
  dimension "d458" = 5
  dimension "d459" = 12.5
  dimension "d460" = 25
  dimension "d461" = 12
  dimension "d462" = 12
  dimension "d463" = 259.5
  dimension "d464" = 5
  dimension "d465" = 12.5
  dimension "d466" = 25
  dimension "d467" = 12
  dimension "d468" = 12
  dimension "d469" = 259.5
  dimension "d470" = 5
  dimension "d471" = 12.5
  dimension "d472" = 25
sketch "Boceto3" plane through (0, 5.5, 0) normal (0, 1, 0) x (1, 0, 0)
  circle A0 centre (-429.9448, 131.5323) radius 3
  circle A1 centre (-429.9448, 314.5323) radius 3
  circle A2 centre (-429.9448, 477.5323) radius 3
  line L0 (-521.3028, 506.5323) -> (-521.3028, 466.5323) projected
  line L1 (-524.4028, 326.5323) -> (-524.4028, 81.5323) projected
  line L2 (-524.4028, 81.5323) -> (-469.3028, 81.5323) projected
  line L3 (-526.8028, 466.5323) -> (-526.8028, 416.5323) projected
  point P0 (0, 0)
  point P1 (-319.3028, 81.5323)
  point P2 (-524.4028, 81.5323)
  dimension "d167" = 6
  dimension "d168" = 6
  dimension "d169" = 6
  dimension "d318" = 183
  dimension "d319" = 163
  dimension "d441" = 94.458
  dimension "d442" = 94.458
  dimension "d445" = 50
  dimension "d456" = 94.458
extrude "Extrusión5" cut sketch "Boceto3" against normal blind 10
extrude "Extrusión6" cut sketch "Boceto2" against normal blind 10 contours A7 L5 | L5 A7 | A6 L20 L19 | L19 L20 A6 L5 | A6 L5 | A0 | A1 | A2 L16 L17 | L17 L16 A2 | A4 L13 L17 | L17 L13 A4 | A3 L15 L16 | L16 L15 A3 | A5 L15 L13 | L13 L15 A5 | A8 | A9 | A10 | A11 | A12 | A13 | A14
properties part number "Lateral Derecho Carcasa" material "MDF Tablero de fibras de densidad media"
